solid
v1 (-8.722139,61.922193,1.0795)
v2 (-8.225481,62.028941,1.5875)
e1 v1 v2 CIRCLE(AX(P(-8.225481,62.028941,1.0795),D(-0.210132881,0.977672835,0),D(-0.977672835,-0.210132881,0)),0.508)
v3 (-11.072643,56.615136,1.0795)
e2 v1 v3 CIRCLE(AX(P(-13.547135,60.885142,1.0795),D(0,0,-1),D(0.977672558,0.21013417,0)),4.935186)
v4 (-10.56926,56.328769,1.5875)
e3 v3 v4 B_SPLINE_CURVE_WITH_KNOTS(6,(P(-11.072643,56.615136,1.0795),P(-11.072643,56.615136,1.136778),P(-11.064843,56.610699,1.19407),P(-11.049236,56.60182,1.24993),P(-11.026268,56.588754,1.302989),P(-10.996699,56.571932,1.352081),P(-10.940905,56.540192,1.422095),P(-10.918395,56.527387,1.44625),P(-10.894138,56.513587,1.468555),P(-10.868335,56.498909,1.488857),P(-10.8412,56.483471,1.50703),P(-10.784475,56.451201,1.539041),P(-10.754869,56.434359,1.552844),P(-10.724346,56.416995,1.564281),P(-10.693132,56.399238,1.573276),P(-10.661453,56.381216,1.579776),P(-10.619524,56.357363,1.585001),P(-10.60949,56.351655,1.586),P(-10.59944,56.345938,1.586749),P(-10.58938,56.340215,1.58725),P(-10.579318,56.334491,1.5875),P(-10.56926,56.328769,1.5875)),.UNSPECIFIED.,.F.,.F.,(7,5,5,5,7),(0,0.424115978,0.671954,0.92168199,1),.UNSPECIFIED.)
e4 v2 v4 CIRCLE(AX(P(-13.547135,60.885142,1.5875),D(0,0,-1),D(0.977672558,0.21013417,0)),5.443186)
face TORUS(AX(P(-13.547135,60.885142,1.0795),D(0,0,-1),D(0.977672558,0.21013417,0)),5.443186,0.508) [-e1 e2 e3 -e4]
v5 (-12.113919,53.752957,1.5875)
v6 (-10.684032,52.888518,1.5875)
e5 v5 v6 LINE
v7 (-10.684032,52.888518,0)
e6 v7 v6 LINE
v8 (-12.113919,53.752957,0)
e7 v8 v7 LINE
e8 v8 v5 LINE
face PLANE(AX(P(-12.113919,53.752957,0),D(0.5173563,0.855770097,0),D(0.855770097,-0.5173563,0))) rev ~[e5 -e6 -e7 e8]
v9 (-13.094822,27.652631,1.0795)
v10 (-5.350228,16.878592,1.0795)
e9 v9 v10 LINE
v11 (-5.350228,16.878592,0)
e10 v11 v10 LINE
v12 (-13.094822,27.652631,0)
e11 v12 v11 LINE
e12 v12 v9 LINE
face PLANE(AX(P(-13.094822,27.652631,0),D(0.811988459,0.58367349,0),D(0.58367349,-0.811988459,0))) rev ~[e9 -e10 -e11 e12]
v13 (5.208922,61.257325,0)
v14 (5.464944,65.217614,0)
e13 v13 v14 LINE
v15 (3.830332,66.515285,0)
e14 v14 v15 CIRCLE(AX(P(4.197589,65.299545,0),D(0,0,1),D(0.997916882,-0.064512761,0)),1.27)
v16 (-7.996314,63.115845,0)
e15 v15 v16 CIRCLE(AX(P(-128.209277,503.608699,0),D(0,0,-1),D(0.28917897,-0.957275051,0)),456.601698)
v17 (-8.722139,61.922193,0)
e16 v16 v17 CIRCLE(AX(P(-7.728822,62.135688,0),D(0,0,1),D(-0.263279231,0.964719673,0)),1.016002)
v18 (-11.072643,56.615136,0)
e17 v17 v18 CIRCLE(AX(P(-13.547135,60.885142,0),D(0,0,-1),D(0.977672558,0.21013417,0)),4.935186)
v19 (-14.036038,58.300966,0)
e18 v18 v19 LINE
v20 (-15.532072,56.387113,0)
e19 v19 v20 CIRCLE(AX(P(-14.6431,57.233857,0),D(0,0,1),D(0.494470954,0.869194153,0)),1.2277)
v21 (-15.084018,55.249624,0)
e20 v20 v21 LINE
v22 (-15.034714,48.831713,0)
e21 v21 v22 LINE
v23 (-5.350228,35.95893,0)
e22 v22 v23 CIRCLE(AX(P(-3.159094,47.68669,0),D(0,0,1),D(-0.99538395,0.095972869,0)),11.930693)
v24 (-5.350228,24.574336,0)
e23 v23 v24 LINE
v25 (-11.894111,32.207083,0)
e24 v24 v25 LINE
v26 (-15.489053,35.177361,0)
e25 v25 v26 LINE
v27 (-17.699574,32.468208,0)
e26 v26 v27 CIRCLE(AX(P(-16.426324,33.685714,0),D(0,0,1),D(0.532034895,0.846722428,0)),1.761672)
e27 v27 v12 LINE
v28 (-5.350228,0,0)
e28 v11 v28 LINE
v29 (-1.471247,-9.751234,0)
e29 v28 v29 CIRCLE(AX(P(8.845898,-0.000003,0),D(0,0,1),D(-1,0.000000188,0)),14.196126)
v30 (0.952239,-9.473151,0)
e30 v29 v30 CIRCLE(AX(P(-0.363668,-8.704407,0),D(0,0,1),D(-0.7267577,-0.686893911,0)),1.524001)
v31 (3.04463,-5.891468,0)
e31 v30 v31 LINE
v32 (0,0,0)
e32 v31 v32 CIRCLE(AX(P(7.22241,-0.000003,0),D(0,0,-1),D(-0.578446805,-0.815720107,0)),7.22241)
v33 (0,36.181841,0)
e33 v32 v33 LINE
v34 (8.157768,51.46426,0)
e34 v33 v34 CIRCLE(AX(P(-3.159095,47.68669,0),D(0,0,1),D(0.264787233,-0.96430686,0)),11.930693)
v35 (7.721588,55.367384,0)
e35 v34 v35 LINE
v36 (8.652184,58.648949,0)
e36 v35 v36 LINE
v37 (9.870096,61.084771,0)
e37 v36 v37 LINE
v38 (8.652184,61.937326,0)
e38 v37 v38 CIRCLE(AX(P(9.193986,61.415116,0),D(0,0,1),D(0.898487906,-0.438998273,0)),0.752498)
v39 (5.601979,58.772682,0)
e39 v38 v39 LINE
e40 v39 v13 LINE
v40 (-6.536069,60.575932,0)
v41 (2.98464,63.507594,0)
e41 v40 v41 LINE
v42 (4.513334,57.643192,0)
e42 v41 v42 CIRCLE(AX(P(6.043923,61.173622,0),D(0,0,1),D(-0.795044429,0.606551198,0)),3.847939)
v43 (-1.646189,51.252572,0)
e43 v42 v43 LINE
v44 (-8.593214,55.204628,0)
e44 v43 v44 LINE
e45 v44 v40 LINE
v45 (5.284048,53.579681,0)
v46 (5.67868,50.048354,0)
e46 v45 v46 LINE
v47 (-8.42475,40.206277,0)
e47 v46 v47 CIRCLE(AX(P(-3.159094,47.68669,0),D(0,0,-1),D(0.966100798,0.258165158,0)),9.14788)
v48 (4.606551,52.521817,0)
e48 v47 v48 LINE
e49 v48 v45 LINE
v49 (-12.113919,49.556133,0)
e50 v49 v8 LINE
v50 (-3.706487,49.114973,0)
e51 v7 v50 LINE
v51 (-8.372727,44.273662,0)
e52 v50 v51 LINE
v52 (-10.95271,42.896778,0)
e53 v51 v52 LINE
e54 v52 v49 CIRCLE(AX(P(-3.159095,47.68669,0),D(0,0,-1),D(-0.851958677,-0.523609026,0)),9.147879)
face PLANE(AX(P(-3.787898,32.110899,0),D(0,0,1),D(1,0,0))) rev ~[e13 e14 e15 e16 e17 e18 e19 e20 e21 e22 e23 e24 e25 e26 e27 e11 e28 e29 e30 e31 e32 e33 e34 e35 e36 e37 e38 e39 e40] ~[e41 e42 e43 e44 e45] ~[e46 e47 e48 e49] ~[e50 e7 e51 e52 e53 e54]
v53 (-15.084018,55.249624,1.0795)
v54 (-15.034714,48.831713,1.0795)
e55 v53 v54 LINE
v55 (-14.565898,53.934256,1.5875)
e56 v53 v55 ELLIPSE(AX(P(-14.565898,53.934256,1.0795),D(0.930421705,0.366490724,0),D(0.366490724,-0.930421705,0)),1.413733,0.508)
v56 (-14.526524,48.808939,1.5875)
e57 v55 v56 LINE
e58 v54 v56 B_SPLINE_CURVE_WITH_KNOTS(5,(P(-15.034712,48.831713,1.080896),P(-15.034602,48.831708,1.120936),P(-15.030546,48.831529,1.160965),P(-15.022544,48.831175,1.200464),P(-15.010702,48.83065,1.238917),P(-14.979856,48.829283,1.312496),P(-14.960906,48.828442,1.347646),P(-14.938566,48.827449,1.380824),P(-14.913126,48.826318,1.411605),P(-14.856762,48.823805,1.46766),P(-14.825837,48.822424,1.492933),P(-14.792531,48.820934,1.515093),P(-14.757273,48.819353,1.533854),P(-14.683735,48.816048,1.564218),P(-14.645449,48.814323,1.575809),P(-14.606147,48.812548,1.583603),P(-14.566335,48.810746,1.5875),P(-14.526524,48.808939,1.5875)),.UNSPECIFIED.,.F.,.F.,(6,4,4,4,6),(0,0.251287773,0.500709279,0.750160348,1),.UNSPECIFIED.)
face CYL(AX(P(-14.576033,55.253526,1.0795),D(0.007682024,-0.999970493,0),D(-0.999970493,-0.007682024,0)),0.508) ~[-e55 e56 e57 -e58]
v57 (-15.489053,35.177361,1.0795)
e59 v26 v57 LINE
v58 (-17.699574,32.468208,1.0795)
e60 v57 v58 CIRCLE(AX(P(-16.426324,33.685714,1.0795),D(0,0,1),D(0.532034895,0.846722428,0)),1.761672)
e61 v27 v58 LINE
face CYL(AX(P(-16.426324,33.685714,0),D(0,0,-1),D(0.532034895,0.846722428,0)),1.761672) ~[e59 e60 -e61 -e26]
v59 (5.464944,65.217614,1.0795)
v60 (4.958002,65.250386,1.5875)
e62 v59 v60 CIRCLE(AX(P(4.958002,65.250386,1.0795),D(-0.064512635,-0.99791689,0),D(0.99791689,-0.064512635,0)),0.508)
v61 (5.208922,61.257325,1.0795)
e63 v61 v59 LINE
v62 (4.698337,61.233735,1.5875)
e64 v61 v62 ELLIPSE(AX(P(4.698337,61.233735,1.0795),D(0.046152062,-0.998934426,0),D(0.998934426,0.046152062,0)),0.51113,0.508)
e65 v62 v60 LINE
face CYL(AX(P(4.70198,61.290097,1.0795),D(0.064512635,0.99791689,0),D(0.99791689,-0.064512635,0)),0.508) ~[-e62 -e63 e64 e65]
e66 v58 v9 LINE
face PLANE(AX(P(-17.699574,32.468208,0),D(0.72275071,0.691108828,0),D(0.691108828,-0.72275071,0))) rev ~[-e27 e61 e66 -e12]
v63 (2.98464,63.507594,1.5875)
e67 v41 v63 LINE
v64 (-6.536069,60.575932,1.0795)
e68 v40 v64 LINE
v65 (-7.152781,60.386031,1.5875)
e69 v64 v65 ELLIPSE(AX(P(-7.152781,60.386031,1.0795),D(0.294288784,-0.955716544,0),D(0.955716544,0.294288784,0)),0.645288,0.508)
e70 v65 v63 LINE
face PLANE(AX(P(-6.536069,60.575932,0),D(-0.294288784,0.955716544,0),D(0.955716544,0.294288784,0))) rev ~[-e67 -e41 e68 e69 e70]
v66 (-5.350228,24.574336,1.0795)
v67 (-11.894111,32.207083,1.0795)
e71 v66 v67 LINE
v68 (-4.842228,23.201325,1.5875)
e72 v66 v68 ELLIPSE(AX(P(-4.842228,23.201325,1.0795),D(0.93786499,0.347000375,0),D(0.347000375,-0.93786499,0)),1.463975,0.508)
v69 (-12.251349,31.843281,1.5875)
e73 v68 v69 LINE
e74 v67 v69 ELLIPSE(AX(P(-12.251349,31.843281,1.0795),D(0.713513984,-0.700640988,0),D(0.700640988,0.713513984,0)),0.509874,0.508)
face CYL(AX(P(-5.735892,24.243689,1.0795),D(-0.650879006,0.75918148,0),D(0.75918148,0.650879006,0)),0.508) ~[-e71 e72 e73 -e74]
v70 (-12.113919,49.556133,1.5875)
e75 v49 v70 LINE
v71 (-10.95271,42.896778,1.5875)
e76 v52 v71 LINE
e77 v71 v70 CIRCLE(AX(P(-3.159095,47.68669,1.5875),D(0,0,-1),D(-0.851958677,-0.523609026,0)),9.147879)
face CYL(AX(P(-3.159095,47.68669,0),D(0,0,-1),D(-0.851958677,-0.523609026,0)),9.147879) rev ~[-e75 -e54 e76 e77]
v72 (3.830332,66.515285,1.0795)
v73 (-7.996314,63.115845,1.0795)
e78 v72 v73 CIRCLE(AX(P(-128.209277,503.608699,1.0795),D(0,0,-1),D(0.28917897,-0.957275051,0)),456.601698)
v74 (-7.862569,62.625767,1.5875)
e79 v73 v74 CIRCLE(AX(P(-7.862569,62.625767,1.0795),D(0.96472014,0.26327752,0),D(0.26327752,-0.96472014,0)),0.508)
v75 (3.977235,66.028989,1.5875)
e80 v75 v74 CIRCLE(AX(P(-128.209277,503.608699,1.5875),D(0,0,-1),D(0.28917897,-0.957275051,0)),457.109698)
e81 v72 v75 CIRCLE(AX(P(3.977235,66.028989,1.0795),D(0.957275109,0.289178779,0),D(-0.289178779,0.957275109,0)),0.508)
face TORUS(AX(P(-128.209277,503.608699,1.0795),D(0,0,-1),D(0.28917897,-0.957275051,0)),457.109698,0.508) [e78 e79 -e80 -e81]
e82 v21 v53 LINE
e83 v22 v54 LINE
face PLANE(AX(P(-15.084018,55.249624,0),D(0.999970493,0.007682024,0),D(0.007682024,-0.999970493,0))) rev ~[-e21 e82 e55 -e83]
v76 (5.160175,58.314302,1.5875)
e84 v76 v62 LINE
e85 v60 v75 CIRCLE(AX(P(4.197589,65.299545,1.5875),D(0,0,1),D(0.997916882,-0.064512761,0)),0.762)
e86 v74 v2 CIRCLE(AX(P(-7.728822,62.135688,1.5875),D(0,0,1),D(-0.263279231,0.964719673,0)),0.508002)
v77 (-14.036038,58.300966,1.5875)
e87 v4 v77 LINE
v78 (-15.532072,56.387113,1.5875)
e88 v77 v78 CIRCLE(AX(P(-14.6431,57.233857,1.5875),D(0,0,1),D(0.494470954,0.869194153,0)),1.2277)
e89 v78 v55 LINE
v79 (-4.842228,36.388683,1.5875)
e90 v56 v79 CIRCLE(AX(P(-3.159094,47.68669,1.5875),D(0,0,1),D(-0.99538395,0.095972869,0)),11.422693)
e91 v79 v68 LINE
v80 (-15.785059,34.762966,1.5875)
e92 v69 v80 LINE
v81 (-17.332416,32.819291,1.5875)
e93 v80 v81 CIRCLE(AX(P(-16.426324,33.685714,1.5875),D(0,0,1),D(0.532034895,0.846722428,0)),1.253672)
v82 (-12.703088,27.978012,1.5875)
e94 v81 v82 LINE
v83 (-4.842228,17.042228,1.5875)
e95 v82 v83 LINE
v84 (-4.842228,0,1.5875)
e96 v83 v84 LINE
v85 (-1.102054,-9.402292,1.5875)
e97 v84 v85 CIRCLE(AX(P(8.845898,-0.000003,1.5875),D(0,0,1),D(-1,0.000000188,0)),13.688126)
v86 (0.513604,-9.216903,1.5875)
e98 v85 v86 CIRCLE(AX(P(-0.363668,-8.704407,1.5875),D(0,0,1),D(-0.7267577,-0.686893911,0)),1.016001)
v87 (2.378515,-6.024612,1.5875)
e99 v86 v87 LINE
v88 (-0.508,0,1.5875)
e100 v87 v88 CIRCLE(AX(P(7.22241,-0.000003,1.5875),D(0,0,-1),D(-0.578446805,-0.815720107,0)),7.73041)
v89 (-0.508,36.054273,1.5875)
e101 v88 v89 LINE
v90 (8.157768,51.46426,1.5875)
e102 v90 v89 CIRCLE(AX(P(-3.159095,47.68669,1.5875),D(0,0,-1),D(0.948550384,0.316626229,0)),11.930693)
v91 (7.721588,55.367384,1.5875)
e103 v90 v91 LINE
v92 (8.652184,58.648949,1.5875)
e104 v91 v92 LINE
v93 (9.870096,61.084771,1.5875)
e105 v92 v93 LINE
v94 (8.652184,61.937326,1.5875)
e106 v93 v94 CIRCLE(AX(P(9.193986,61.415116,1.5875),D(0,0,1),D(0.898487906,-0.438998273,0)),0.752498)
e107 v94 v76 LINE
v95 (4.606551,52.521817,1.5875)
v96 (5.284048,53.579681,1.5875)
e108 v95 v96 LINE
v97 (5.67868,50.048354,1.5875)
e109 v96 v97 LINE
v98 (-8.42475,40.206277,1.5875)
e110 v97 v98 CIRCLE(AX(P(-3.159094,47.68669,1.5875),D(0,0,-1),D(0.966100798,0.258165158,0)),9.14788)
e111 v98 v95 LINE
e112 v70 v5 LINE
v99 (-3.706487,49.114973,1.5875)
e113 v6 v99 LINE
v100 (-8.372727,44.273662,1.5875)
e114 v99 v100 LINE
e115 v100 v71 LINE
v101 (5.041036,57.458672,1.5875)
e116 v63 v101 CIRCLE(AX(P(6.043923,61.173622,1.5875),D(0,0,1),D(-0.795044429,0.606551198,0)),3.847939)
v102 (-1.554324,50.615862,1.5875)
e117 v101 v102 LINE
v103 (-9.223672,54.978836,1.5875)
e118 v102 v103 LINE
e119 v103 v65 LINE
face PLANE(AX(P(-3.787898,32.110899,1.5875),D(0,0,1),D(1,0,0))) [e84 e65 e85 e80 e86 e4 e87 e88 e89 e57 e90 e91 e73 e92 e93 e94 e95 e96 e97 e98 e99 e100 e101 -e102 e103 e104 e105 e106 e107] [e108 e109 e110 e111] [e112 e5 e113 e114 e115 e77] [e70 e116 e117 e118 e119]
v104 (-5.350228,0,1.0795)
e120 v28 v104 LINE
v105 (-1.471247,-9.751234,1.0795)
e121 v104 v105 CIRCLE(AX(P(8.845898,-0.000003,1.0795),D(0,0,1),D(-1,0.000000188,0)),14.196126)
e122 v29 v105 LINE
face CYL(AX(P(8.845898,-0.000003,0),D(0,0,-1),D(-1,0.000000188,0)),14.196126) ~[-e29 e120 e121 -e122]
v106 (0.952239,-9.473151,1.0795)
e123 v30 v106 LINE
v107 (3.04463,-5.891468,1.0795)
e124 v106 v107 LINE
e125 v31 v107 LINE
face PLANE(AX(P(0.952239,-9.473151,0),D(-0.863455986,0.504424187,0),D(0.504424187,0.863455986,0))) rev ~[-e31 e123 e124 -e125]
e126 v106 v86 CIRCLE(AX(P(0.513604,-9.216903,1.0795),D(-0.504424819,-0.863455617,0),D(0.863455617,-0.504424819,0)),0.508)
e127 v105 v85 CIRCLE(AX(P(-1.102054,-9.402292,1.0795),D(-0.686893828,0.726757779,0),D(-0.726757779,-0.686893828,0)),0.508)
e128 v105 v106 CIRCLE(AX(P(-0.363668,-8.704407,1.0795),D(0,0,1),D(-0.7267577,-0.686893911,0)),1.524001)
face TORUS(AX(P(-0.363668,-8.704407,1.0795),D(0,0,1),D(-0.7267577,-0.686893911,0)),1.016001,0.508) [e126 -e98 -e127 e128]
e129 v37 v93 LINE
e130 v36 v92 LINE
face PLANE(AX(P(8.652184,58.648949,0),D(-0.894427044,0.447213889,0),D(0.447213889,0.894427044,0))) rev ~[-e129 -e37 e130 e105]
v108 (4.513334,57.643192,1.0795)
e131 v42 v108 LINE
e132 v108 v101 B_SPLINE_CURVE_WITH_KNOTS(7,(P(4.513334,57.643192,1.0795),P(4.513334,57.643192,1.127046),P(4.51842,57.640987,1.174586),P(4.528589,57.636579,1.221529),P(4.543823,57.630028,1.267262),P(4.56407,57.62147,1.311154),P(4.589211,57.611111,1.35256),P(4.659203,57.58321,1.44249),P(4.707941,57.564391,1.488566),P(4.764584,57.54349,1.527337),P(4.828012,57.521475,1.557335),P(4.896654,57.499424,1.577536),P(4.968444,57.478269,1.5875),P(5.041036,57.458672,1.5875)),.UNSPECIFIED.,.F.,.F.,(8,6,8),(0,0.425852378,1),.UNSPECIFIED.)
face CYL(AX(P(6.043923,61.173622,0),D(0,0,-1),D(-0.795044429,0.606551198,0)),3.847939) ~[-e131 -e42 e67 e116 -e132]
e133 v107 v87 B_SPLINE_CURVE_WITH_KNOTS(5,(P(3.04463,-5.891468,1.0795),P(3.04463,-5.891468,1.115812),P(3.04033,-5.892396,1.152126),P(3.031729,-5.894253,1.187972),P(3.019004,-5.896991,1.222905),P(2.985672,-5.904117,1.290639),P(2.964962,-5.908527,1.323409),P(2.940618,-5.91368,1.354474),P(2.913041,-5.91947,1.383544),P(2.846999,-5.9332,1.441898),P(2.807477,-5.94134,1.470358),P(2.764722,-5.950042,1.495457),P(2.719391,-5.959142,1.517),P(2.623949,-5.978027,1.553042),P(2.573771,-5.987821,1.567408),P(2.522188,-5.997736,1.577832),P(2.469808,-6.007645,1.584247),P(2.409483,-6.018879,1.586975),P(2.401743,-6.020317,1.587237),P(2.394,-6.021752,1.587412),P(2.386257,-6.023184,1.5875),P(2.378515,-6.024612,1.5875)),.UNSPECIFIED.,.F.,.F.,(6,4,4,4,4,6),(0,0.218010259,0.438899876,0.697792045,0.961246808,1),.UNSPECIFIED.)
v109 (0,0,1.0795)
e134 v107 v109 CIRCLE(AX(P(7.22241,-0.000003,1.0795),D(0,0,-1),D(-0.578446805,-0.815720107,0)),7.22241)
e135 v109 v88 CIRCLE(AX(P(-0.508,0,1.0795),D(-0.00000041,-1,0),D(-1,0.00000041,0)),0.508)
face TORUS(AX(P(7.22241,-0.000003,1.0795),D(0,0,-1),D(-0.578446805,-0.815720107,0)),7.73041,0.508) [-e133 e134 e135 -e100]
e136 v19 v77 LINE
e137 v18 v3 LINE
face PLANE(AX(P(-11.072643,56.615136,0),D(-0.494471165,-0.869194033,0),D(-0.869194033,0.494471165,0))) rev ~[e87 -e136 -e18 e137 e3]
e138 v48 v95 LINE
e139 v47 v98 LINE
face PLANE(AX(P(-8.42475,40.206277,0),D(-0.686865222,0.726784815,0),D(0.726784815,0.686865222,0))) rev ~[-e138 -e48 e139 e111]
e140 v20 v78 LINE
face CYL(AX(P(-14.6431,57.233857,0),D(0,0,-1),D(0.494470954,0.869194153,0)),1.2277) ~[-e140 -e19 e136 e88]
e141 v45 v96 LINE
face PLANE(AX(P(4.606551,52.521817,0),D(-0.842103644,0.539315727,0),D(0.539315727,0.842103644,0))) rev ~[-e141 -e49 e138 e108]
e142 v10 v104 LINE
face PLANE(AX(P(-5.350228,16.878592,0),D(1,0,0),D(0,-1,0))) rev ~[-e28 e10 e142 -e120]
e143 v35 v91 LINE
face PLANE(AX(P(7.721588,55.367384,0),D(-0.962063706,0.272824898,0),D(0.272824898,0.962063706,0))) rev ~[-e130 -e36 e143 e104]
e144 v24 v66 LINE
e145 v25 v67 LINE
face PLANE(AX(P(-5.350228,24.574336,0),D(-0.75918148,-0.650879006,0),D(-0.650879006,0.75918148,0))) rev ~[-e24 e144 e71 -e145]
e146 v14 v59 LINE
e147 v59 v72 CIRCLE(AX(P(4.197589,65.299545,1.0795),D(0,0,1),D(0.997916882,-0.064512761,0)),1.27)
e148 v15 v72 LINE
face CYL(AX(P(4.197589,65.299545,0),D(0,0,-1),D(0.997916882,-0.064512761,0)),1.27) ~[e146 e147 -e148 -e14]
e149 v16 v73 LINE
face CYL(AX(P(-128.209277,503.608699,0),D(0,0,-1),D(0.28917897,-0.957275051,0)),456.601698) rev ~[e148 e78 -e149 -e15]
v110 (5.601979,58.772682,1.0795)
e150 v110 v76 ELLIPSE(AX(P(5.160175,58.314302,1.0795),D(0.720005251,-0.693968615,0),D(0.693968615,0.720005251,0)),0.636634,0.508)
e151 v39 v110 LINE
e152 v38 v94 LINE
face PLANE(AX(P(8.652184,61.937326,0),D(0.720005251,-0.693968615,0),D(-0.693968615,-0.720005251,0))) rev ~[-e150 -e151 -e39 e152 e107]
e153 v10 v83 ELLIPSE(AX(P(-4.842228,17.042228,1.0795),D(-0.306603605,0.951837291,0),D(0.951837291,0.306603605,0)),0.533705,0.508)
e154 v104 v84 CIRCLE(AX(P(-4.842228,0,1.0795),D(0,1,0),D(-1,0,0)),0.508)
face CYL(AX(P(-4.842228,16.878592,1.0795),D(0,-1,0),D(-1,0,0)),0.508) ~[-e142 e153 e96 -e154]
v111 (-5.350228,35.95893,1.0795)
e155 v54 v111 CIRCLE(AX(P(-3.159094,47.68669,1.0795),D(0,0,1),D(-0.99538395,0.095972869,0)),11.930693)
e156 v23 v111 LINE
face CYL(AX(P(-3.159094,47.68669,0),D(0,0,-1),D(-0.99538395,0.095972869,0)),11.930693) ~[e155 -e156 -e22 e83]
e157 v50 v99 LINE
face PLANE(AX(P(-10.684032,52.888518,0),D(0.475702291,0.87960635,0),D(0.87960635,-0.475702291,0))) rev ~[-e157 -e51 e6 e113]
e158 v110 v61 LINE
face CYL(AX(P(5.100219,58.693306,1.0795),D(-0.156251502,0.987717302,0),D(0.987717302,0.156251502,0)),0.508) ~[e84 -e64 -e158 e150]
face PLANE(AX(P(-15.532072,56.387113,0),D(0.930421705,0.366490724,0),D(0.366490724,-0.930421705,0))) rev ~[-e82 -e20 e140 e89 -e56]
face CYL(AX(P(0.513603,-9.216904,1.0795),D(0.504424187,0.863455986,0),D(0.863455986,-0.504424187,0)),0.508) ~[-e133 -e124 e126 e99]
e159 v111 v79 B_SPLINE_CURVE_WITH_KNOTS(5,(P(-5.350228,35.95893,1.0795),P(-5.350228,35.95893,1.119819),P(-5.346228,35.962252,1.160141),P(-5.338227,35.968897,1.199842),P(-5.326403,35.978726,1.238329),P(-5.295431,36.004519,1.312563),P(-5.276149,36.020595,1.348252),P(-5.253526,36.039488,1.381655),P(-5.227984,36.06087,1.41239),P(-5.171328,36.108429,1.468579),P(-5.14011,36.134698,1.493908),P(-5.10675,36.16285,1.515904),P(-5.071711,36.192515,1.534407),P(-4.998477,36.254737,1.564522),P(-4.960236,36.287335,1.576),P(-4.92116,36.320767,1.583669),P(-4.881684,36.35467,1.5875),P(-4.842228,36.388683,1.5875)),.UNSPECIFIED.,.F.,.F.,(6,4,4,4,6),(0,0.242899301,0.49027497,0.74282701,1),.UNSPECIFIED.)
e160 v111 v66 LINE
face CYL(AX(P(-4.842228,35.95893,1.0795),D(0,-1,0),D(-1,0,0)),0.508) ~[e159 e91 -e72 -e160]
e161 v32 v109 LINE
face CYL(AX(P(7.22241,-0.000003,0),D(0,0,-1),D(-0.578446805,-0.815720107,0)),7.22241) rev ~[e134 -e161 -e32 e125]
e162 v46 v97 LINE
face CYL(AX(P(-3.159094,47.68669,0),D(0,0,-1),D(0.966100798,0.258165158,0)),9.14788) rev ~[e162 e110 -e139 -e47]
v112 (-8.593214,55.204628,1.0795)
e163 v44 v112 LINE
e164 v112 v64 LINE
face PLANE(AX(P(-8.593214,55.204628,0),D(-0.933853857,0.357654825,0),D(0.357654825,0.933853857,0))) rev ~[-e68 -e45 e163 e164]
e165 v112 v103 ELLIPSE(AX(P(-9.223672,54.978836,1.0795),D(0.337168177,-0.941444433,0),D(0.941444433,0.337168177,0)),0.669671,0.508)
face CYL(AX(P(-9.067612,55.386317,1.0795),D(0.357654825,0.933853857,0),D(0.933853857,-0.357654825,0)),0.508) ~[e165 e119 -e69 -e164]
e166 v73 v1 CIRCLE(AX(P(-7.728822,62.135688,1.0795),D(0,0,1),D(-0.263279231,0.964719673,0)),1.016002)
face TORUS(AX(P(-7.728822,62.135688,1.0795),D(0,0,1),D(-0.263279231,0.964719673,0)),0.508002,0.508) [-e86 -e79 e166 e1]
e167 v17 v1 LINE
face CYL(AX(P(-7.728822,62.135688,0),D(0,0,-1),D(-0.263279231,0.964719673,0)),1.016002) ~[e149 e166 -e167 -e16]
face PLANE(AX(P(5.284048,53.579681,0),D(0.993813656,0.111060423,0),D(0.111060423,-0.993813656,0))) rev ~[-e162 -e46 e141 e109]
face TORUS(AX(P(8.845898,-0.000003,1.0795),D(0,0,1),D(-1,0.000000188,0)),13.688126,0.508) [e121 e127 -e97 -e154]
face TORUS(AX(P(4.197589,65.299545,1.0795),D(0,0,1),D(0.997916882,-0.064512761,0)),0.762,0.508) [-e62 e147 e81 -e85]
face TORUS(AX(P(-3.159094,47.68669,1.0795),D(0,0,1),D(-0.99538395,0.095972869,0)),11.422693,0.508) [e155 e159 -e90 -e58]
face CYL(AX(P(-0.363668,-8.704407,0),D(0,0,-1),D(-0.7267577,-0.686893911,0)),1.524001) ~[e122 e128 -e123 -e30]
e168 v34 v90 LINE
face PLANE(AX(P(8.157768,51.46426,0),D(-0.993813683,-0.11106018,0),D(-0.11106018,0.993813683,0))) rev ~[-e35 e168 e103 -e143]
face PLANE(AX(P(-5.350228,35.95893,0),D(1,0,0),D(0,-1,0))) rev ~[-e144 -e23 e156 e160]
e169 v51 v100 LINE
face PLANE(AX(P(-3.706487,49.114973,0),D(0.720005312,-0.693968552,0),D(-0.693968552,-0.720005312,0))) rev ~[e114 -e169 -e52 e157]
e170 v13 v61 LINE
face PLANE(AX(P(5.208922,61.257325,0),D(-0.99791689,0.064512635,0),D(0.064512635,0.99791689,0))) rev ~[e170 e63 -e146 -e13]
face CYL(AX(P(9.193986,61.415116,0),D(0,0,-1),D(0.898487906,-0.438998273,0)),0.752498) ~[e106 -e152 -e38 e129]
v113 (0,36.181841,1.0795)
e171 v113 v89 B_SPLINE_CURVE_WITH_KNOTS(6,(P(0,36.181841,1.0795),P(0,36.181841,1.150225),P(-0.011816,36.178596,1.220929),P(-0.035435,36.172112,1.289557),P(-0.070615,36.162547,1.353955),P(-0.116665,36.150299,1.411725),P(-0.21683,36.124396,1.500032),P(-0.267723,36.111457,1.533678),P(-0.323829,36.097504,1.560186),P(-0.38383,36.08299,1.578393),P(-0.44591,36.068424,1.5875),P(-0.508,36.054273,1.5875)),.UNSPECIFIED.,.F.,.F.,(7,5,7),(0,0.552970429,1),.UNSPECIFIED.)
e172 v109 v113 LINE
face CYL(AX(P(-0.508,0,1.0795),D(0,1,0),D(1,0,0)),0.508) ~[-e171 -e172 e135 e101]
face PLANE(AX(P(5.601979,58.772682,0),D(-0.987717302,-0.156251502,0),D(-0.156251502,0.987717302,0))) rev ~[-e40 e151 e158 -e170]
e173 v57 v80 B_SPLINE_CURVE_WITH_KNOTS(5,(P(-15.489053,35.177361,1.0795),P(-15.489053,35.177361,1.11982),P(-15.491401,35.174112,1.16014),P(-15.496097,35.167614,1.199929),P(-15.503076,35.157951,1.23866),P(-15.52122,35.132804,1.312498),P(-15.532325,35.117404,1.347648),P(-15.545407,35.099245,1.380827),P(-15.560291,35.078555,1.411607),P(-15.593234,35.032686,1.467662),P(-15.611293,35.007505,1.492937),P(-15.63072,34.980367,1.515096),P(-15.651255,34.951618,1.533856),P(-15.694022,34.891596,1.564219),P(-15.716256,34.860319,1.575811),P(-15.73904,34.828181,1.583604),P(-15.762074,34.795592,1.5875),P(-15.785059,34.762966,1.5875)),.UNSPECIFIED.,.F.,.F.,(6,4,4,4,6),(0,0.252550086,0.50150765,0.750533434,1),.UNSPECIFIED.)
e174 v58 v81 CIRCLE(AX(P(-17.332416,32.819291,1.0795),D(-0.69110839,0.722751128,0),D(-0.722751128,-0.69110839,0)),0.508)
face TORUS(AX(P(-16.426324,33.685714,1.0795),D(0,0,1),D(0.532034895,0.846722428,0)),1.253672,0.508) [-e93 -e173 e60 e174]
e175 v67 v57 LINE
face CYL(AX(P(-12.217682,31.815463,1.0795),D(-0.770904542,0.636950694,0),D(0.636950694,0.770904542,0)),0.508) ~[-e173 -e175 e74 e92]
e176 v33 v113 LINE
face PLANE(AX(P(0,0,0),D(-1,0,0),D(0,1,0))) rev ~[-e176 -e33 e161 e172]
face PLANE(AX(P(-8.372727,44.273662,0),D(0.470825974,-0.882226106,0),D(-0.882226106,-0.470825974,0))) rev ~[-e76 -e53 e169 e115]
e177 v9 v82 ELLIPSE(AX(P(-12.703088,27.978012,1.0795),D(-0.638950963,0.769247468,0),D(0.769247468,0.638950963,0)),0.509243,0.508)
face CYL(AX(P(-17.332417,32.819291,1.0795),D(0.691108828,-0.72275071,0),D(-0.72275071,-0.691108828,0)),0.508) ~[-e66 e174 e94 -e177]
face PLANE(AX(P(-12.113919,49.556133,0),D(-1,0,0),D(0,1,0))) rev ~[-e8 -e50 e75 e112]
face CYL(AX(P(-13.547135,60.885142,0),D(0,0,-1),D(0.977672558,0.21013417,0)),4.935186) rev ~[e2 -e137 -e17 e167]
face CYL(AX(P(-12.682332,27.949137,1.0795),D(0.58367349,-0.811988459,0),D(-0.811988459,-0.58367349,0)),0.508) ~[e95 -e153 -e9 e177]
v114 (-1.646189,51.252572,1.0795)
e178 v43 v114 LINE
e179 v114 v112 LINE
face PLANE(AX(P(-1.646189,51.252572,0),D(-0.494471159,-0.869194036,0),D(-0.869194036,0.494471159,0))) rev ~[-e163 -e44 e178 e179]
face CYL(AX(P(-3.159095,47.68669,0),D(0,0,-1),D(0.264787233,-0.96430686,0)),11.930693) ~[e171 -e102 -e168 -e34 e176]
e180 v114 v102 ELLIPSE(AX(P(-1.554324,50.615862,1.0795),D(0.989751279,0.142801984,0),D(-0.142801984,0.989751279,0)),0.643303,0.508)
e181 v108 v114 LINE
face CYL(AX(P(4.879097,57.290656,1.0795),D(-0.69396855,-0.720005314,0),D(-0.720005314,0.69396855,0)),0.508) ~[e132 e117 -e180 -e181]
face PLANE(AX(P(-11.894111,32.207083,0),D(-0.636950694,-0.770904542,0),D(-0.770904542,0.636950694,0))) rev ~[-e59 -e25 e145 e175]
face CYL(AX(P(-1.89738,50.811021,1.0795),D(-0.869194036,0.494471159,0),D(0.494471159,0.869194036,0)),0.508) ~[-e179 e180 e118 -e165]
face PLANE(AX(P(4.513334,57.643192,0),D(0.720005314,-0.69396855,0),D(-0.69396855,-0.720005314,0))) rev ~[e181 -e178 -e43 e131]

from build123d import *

# Parameters (mm, degrees)
F1_DEPTH = 1.5875
F2_R     = 0.508


with BuildPart() as f1:
    # F0 (on Top) → F1 (new body)
    with BuildSketch(Plane.XY):
        with BuildLine():
            Line((0, 0), (0, 36.181841))
            ThreePointArc((0, 36.181841), (7.365943, 42.068416), (8.157768, 51.46426))
            Line((8.157768, 51.46426), (7.721588, 55.367384))
            Line((7.721588, 55.367384), (8.652184, 58.648949))
            Line((8.652184, 58.648949), (9.870096, 61.084771))
            ThreePointArc((9.870096, 61.084771), (9.625521, 62.031582), (8.652184, 61.937326))
            Line((8.652184, 61.937326), (5.601979, 58.772682))
            Line((5.601979, 58.772682), (5.208922, 61.257325))
            Line((5.208922, 61.257325), (5.464944, 65.217614))
            ThreePointArc((5.464944, 65.217614), (4.987229, 66.294216), (3.830332, 66.515285))
            ThreePointArc((3.830332, 66.515285), (-2.071538, 64.775722), (-7.996314, 63.115845))
            ThreePointArc((-7.996314, 63.115845), (-8.59693, 62.663559), (-8.722139, 61.922193))
            ThreePointArc((-8.722139, 61.922193), (-9.034725, 58.886588), (-11.072643, 56.615136))
            Line((-11.072643, 56.615136), (-14.036038, 58.300966))
            ThreePointArc((-14.036038, 58.300966), (-15.610352, 57.989945), (-15.532072, 56.387113))
            Line((-15.532072, 56.387113), (-15.084018, 55.249624))
            Line((-15.084018, 55.249624), (-15.034714, 48.831713))
            ThreePointArc((-15.034714, 48.831713), (-12.693009, 40.514111), (-5.350228, 35.95893))
            Line((-5.350228, 35.95893), (-5.350228, 24.574336))
            Line((-5.350228, 24.574336), (-11.894111, 32.207083))
            Line((-11.894111, 32.207083), (-15.489053, 35.177361))
            ThreePointArc((-15.489053, 35.177361), (-17.791277, 34.799442), (-17.699574, 32.468208))
            Line((-17.699574, 32.468208), (-13.094822, 27.652631))
            Line((-13.094822, 27.652631), (-5.350228, 16.878592))
            Line((-5.350228, 16.878592), (-5.350228, 0))
            ThreePointArc((-5.350228, 0), (-4.344885, -5.247215), (-1.471247, -9.751234))
            ThreePointArc((-1.471247, -9.751234), (-0.189936, -10.218473), (0.952239, -9.473151))
            Line((0.952239, -9.473151), (3.04463, -5.891468))
            ThreePointArc((3.04463, -5.891468), (0.806147, -3.31584), (0, 0))
        make_face()
        with BuildLine():
            Line((-3.706487, 49.114973), (-8.372727, 44.273662))
            Line((-8.372727, 44.273662), (-10.95271, 42.896778))
            ThreePointArc((-10.95271, 42.896778), (-12.170993, 46.115262), (-12.113919, 49.556133))
            Line((-12.113919, 49.556133), (-12.113919, 53.752957))
            Line((-12.113919, 53.752957), (-10.684032, 52.888518))
            Line((-10.684032, 52.888518), (-3.706487, 49.114973))
        make_face(mode=Mode.SUBTRACT)
        with BuildLine():
            ThreePointArc((5.67868, 50.048354), (2.07604, 40.184885), (-8.42475, 40.206277))
            Line((-8.42475, 40.206277), (4.606551, 52.521817))
            Line((4.606551, 52.521817), (5.284048, 53.579681))
            Line((5.284048, 53.579681), (5.67868, 50.048354))
        make_face(mode=Mode.SUBTRACT)
        with BuildLine():
            Line((4.513334, 57.643192), (-1.646189, 51.252572))
            Line((-1.646189, 51.252572), (-8.593214, 55.204628))
            Line((-8.593214, 55.204628), (-6.536069, 60.575932))
            Line((-6.536069, 60.575932), (2.98464, 63.507594))
            ThreePointArc((2.98464, 63.507594), (2.320412, 60.203001), (4.513334, 57.643192))
        make_face(mode=Mode.SUBTRACT)
    extrude(amount=F1_DEPTH)

    # F2
    f2_edges = [f1.edges().sort_by_distance(p)[0] for p in [
        (-7.564642, 57.89028, 1.5875),
        (-5.119701, 53.2286, 1.5875),
        (1.433573, 54.447882, 1.5875),
        (-9.034725, 58.886588, 1.5875),
        (5.405451, 60.015003, 1.5875),
        (-15.059366, 52.040668, 1.5875),
        (-12.693009, 40.514111, 1.5875),
        (-5.350228, 30.266633, 1.5875),
        (-8.622169, 28.390709, 1.5875),
        (-13.691582, 33.692222, 1.5875),
        (-17.791277, 34.799442, 1.5875),
        (-15.397198, 30.060419, 1.5875),
        (-9.222525, 22.265611, 1.5875),
        (-5.350228, 8.439296, 1.5875),
        (0.806147, -3.31584, 1.5875),
    ]]
    fillet(f2_edges, radius=F2_R)


solid = f1.part
